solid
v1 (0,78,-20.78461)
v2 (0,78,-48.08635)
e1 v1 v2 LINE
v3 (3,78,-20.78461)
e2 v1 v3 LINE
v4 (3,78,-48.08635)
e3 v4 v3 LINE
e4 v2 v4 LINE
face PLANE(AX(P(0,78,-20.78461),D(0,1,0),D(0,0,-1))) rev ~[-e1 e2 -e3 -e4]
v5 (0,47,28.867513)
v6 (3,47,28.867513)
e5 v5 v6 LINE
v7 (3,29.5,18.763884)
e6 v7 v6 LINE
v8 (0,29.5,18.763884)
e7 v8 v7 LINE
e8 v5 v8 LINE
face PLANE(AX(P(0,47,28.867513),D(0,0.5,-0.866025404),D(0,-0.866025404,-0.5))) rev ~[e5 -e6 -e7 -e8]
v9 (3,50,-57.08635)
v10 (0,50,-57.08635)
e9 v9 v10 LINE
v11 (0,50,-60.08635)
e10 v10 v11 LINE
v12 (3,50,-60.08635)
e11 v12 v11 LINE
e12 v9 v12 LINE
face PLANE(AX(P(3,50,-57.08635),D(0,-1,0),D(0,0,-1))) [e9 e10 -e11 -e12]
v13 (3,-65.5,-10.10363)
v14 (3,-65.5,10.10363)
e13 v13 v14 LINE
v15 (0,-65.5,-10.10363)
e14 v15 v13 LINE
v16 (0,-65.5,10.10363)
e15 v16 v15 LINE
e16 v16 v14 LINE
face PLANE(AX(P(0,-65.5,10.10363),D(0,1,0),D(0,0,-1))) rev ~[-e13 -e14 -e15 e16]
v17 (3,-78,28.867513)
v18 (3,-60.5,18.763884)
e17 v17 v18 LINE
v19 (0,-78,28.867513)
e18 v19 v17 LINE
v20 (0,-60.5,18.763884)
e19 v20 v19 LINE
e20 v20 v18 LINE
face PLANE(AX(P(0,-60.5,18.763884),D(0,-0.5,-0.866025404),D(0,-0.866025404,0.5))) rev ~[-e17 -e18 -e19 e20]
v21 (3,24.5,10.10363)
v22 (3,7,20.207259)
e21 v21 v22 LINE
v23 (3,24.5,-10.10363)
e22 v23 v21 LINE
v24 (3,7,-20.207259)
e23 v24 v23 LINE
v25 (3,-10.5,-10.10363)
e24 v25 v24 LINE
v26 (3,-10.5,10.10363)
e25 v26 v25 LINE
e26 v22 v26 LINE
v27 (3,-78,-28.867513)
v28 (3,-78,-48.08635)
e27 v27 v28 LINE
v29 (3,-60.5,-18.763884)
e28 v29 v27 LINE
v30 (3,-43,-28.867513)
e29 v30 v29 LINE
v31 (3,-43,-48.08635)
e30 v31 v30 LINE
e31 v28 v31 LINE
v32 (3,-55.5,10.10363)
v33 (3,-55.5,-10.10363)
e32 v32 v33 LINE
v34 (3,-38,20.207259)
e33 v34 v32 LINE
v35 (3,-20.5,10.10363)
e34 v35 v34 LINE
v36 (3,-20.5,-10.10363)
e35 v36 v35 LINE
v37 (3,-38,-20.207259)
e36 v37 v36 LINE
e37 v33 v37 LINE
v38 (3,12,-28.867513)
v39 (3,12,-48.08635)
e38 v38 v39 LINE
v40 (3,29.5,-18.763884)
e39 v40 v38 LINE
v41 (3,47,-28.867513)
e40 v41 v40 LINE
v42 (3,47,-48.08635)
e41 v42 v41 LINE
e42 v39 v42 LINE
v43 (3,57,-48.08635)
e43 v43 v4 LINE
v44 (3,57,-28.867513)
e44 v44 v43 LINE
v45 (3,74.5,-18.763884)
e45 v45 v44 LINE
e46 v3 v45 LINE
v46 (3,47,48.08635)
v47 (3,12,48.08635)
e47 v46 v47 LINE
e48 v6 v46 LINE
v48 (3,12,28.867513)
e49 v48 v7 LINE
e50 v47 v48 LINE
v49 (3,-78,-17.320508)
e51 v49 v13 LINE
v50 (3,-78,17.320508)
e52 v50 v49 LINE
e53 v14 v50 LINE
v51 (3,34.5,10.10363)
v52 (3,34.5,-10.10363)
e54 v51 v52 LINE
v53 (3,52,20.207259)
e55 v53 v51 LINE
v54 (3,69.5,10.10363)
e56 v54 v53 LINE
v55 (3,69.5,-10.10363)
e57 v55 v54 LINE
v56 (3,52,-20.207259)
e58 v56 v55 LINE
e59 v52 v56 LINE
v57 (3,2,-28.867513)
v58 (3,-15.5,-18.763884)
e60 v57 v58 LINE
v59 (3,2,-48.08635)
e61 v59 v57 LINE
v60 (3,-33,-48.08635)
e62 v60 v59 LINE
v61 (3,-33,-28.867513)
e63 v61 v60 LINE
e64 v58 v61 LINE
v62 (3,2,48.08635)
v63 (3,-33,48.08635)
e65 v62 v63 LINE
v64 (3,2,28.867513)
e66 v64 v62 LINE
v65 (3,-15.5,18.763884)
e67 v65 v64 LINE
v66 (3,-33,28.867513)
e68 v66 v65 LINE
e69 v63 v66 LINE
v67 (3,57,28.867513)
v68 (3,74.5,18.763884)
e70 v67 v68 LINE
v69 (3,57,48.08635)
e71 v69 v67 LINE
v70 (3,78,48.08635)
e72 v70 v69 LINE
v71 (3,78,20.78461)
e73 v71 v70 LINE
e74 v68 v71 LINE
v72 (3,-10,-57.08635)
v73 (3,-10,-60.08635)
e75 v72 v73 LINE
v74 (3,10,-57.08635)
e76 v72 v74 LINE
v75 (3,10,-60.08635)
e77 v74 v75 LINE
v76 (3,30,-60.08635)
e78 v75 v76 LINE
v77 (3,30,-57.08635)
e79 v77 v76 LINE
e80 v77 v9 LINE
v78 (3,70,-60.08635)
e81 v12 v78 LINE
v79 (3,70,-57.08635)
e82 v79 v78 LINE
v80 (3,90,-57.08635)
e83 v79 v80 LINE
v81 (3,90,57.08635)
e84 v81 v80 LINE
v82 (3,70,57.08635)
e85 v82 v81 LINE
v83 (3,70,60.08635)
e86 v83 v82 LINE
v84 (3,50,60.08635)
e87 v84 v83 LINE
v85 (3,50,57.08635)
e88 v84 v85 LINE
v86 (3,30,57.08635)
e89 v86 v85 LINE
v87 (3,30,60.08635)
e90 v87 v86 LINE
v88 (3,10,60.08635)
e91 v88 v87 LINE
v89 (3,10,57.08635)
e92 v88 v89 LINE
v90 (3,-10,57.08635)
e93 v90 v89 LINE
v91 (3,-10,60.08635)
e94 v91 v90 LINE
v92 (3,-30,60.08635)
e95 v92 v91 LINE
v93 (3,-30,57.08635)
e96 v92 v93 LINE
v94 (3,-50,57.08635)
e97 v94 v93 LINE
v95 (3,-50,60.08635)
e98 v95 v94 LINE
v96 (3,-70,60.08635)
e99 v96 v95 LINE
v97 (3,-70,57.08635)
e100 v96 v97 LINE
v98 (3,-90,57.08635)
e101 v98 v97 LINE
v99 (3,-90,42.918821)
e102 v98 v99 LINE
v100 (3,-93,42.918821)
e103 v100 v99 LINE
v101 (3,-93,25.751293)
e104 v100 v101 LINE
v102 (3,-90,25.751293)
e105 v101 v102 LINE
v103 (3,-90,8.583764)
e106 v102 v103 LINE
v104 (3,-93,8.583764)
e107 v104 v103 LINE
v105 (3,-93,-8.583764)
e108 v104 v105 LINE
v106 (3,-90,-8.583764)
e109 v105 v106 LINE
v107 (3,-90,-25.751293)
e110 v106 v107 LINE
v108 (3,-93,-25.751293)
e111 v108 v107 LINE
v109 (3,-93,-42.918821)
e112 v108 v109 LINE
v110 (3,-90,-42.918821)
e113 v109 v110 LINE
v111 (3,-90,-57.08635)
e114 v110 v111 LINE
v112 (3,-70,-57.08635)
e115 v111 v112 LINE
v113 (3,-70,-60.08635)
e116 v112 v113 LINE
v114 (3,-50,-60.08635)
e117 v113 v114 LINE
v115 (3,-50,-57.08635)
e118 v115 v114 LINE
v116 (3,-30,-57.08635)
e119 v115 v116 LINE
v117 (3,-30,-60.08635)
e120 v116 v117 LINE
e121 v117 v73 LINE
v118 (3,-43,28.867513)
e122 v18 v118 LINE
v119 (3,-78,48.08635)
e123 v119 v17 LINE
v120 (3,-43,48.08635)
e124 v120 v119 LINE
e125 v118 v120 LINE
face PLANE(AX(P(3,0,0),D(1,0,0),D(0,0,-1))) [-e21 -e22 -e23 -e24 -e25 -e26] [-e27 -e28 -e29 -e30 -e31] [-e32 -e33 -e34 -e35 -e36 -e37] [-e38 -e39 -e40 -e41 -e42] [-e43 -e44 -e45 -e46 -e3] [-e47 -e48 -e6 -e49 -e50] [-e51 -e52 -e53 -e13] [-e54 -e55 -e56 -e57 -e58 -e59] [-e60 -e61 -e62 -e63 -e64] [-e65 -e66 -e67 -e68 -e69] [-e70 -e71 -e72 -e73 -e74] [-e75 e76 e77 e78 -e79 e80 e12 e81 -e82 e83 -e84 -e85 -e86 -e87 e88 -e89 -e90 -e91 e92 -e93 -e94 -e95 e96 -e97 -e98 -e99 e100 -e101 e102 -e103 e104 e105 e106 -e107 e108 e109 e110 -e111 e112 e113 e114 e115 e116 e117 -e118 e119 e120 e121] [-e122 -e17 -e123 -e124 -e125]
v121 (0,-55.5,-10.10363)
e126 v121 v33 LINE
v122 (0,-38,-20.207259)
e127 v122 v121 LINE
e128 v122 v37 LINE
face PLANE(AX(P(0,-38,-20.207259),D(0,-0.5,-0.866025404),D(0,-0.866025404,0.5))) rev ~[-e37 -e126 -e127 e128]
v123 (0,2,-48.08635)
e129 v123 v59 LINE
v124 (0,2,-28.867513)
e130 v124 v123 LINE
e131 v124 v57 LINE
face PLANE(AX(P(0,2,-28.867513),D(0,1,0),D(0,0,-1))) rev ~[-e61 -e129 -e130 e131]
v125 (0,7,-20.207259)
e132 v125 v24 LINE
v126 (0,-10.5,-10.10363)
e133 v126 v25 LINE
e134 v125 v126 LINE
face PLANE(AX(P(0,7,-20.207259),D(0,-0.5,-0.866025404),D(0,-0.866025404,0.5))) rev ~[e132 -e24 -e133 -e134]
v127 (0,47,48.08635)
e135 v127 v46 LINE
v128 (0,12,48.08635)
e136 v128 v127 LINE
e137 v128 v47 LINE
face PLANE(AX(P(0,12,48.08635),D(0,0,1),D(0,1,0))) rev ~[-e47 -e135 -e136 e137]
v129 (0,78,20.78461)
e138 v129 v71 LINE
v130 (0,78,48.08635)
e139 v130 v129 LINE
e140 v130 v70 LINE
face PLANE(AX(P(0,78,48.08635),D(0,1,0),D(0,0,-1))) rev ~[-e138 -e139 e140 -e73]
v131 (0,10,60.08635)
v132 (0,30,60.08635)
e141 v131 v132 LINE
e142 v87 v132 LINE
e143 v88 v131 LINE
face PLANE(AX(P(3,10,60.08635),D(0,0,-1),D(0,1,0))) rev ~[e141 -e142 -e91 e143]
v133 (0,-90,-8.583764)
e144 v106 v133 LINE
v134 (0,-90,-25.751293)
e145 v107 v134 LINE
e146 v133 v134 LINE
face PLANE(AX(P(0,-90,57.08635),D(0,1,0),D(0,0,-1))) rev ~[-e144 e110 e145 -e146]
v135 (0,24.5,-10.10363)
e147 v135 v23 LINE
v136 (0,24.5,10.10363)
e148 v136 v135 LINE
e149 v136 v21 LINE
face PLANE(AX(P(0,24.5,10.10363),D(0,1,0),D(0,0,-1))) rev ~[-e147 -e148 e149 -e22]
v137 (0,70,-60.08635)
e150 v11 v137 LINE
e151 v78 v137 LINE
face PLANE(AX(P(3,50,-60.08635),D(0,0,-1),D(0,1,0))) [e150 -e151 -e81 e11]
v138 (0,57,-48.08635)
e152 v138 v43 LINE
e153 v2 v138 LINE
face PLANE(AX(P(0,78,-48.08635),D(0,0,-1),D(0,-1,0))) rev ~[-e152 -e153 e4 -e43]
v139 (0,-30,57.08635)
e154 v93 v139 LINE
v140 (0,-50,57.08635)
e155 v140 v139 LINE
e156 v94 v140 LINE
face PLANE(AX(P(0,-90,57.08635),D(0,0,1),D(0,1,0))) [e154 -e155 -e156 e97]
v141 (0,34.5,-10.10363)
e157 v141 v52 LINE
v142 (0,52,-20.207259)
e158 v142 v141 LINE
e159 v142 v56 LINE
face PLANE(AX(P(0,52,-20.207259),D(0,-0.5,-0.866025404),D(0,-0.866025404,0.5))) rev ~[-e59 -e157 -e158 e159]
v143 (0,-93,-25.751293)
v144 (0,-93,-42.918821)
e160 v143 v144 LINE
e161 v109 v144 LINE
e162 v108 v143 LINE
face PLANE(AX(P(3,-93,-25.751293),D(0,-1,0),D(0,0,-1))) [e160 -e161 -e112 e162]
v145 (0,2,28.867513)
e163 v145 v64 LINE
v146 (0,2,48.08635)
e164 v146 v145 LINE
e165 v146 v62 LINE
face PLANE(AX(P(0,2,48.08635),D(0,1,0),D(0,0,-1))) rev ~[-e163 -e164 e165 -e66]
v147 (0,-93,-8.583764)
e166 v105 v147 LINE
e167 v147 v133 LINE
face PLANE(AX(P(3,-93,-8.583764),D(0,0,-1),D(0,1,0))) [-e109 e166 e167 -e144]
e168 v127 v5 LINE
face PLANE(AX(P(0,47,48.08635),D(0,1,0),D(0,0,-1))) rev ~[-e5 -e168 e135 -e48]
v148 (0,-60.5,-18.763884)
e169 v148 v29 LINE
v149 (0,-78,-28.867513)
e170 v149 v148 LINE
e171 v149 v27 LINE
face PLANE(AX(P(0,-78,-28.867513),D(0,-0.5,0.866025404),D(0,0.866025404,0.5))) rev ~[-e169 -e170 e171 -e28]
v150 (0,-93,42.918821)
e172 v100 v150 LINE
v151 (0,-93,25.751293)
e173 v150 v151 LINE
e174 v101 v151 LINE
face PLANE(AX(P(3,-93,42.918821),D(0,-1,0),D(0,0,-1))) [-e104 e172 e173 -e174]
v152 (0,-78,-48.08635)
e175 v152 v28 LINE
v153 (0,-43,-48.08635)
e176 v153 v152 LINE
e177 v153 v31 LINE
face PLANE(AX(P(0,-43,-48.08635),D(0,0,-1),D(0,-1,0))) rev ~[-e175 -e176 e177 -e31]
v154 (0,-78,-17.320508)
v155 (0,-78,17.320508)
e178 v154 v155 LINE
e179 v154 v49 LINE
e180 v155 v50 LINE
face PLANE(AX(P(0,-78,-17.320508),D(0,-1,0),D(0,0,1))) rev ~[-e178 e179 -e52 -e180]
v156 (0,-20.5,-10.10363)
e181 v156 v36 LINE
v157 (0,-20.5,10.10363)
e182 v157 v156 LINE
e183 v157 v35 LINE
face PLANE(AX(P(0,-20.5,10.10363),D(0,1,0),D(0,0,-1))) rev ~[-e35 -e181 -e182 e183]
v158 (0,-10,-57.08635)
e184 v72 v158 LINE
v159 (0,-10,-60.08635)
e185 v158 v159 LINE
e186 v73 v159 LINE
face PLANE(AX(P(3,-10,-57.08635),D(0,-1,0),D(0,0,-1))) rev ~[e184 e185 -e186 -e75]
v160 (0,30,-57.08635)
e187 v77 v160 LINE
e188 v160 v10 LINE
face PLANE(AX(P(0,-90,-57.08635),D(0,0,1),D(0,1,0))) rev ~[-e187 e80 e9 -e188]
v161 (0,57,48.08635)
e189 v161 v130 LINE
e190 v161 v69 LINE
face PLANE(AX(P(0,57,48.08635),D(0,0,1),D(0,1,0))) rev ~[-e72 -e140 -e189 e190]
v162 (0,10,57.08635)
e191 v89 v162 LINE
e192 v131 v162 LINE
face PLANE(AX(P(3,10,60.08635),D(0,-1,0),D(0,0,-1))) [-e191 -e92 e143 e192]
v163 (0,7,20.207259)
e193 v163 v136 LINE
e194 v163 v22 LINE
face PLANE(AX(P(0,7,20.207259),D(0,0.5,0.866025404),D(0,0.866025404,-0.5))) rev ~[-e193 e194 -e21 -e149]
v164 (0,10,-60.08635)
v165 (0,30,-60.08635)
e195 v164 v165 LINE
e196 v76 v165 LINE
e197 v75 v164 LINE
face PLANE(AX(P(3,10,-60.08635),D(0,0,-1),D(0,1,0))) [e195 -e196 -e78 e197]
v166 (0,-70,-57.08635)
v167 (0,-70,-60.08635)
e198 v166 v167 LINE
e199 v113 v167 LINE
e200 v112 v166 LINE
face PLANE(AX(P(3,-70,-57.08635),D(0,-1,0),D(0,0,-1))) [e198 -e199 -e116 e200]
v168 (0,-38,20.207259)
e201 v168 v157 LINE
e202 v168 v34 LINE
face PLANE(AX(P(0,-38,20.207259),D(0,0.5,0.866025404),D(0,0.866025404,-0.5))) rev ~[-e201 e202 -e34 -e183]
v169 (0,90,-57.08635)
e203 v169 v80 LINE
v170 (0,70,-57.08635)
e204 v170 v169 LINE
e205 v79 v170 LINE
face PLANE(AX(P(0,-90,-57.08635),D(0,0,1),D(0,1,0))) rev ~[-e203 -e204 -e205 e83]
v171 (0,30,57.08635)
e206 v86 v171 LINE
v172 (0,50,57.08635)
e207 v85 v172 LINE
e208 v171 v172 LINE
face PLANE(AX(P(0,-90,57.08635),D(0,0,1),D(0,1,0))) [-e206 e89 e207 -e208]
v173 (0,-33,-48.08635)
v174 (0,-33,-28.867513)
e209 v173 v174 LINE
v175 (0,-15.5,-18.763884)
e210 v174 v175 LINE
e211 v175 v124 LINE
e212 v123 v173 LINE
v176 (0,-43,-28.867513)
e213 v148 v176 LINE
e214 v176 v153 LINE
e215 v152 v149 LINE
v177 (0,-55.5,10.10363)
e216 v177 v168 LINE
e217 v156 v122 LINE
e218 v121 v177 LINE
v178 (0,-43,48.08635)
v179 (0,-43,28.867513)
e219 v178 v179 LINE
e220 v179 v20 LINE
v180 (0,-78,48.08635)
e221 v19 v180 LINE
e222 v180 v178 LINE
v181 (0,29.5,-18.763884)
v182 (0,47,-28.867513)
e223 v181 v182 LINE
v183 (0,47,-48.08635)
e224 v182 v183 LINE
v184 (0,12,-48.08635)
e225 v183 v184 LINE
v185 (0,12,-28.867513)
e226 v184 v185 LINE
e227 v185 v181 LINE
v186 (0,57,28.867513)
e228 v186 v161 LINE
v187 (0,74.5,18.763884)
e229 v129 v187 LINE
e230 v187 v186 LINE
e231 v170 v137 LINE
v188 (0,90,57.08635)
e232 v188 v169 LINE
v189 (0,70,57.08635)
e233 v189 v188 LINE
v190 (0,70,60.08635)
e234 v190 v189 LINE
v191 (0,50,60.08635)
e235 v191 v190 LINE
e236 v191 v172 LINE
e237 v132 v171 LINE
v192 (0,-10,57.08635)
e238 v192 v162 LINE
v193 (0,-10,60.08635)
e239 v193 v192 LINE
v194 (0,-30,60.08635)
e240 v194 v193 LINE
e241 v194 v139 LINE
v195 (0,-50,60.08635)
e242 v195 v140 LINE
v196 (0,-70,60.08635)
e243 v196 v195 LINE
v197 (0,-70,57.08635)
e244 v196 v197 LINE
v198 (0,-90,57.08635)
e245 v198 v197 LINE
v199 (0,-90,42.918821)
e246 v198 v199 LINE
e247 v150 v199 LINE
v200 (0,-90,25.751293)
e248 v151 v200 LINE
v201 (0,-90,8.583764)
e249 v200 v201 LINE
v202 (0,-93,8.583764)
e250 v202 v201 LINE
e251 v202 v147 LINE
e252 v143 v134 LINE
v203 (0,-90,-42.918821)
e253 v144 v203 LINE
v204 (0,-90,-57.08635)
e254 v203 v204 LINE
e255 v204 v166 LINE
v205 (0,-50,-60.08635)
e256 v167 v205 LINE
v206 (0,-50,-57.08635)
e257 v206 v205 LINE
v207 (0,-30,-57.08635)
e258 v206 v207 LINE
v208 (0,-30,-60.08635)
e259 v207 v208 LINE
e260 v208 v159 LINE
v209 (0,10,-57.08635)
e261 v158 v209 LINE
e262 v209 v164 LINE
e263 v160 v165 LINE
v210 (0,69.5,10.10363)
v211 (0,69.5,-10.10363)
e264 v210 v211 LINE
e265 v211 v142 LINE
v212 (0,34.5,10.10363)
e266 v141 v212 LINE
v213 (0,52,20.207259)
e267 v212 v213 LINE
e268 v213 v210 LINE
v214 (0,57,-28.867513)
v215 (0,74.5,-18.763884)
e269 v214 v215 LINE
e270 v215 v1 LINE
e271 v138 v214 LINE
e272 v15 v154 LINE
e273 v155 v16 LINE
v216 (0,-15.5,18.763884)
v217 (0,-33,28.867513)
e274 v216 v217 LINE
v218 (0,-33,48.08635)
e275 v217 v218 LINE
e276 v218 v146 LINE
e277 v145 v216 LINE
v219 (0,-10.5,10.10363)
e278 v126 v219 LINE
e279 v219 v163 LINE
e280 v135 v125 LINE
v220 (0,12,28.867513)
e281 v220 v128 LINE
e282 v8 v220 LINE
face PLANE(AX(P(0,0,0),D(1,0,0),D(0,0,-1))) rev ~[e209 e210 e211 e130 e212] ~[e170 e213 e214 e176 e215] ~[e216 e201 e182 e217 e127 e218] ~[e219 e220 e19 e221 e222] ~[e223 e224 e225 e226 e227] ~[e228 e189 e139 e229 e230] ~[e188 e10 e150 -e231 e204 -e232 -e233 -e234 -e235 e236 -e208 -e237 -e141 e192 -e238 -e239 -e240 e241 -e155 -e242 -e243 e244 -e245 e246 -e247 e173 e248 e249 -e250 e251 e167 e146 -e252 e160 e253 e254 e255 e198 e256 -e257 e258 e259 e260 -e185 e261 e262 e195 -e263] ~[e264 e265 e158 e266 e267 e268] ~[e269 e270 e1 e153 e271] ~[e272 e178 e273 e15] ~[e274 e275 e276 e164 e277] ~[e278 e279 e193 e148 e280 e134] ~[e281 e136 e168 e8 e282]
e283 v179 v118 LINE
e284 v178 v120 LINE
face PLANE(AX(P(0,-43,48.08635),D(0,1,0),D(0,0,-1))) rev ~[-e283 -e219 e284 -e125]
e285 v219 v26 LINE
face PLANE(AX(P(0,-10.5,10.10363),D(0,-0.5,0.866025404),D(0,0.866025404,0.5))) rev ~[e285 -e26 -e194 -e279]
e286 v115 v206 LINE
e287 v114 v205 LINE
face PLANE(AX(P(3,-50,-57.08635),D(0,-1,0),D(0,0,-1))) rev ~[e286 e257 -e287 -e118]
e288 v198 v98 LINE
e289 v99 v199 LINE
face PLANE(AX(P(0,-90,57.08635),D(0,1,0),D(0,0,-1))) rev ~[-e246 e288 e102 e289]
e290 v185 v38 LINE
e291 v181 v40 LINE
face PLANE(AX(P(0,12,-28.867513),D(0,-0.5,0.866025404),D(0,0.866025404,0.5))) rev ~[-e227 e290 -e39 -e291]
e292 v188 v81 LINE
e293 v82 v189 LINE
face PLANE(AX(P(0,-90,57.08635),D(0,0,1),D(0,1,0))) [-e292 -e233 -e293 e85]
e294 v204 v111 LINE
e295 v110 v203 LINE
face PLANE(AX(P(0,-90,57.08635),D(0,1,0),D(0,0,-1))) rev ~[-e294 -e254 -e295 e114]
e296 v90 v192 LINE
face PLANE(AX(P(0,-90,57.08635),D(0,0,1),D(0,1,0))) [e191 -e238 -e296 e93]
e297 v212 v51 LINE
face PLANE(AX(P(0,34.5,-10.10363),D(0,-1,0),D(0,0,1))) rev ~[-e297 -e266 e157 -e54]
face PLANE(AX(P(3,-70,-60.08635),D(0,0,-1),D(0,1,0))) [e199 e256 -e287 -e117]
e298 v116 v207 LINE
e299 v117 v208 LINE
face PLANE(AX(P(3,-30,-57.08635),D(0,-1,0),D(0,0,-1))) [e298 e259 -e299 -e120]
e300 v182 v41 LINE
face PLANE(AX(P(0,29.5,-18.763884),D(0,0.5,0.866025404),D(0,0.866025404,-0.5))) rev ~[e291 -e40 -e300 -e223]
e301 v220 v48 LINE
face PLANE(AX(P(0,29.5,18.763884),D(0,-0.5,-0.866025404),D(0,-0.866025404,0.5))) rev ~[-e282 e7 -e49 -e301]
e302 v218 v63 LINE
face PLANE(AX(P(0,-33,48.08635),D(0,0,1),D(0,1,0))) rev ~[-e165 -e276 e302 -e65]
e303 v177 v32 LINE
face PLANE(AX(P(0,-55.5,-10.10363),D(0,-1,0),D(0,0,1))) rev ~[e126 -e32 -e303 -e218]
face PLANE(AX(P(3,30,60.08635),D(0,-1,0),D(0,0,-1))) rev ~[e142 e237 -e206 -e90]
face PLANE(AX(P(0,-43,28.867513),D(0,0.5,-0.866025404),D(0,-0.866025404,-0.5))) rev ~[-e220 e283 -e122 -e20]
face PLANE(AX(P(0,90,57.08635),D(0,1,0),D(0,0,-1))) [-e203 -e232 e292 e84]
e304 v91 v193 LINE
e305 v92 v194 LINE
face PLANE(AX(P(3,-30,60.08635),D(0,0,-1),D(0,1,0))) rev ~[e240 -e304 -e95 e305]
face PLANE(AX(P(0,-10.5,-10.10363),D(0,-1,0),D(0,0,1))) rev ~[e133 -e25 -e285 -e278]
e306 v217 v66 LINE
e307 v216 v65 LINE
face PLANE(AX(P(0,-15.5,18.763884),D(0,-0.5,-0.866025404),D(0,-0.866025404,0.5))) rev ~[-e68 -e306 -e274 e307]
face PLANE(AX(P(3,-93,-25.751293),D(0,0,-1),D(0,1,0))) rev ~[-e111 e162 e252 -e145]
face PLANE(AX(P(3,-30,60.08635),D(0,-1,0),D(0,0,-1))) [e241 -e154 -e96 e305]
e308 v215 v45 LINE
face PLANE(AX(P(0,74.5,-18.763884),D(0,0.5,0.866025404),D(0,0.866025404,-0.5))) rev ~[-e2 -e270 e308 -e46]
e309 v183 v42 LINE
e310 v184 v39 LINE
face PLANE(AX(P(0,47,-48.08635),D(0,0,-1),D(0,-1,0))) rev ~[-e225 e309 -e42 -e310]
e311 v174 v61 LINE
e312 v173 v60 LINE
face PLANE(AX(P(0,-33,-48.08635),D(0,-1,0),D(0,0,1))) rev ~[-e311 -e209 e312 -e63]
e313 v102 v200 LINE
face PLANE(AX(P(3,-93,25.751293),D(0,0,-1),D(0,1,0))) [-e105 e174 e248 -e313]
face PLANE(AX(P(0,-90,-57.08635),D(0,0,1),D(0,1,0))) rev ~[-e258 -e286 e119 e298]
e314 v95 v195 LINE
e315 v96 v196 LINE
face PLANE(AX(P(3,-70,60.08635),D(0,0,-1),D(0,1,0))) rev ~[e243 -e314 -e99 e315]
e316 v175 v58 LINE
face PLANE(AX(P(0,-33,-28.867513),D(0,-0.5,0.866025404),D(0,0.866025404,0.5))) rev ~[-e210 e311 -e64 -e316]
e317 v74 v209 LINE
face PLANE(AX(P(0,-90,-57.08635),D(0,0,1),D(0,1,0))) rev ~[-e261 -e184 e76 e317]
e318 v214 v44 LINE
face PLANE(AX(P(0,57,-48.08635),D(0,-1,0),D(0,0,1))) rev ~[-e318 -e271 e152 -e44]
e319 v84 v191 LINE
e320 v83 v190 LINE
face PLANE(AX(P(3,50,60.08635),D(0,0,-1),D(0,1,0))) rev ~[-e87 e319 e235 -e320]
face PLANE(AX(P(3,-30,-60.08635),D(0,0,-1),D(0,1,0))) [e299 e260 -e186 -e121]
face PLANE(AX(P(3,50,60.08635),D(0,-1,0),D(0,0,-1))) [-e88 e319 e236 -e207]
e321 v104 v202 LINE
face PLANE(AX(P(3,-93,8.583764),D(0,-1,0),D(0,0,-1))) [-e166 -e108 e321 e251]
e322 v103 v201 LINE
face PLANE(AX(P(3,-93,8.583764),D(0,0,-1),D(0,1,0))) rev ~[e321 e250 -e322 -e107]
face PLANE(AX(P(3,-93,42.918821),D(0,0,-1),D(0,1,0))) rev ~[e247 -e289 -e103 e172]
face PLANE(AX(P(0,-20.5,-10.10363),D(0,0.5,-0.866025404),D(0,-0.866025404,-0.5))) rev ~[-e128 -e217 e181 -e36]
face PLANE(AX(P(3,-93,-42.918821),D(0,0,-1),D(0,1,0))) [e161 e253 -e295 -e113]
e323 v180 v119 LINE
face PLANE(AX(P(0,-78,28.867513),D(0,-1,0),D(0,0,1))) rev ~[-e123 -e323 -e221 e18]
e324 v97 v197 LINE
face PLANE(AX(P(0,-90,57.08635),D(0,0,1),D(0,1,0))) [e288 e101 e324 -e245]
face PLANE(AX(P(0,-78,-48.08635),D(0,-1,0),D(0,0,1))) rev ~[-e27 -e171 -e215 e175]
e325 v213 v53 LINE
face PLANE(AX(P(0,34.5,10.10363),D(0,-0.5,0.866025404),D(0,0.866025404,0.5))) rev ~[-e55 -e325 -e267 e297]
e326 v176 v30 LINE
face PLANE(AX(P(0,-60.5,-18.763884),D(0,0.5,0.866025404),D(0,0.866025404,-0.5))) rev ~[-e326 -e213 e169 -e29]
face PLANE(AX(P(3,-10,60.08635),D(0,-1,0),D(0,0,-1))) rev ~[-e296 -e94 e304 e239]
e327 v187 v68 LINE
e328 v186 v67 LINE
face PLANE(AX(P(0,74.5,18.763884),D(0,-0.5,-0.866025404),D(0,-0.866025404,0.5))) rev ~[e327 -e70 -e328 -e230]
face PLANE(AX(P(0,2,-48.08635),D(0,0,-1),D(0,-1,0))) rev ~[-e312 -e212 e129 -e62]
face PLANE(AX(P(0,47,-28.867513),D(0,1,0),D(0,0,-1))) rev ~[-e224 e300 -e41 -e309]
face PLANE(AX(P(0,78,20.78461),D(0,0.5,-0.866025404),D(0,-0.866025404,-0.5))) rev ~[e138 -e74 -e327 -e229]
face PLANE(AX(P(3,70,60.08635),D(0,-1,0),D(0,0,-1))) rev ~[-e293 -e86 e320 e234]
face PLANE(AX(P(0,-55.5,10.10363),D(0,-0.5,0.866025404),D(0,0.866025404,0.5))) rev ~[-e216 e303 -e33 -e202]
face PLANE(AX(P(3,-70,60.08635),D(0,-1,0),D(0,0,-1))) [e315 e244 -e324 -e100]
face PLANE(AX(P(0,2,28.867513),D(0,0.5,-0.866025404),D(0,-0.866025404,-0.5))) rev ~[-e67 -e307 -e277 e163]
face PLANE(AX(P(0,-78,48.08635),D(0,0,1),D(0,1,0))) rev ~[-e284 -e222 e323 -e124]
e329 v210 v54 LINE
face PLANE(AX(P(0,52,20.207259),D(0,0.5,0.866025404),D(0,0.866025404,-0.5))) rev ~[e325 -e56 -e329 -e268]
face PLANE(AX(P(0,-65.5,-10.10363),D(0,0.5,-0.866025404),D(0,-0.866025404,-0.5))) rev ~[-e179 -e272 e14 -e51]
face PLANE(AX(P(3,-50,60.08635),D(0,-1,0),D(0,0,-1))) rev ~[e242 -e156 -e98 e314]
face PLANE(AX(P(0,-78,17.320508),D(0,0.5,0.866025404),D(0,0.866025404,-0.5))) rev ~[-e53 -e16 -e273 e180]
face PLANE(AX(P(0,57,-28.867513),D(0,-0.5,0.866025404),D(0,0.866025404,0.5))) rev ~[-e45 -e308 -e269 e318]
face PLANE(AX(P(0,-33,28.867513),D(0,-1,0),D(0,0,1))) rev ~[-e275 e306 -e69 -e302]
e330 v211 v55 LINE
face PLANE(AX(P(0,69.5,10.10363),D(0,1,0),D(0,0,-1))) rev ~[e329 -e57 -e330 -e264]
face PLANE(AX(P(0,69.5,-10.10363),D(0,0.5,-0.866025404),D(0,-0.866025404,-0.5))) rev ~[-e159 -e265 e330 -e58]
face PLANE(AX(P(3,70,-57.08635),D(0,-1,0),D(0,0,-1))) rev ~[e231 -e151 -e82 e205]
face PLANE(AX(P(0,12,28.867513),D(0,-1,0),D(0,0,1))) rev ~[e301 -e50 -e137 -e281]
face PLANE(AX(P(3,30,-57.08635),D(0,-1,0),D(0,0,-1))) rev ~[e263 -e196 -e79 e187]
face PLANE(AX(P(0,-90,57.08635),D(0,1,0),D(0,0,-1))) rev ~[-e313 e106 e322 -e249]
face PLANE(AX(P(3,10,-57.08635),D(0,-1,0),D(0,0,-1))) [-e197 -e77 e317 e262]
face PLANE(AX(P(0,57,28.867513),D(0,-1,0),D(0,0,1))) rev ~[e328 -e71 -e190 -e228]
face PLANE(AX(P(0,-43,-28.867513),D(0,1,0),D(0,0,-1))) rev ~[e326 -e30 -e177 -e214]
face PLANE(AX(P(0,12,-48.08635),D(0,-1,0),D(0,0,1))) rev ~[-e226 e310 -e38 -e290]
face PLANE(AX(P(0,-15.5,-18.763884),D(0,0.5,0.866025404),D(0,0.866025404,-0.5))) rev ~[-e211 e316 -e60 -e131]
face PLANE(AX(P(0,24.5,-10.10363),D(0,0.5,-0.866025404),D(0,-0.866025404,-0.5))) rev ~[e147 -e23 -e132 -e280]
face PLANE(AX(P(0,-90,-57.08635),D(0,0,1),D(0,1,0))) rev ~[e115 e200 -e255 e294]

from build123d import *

# Parameters (mm, degrees)
SKETCH1_W           = 114.1727
SKETCH1_H           = 180
BOSS_EXTRUDE1_DEPTH = 3
SKETCH2_W           = 17.167528572
SKETCH2_H           = 3
SKETCH2_W_2         = 3
SKETCH2_H_2         = 20
BOSS_EXTRUDE2_DEPTH = 3
CUT_EXTRUDE1_DEPTH  = 10


with BuildPart() as part:
    # Sketch1 → Boss-Extrude1 (new body)
    with BuildSketch(Plane(origin=(0, 0, 0), x_dir=(0, 0, -1), z_dir=(1, 0, 0))):
        Rectangle(SKETCH1_W, SKETCH1_H)
    extrude(amount=BOSS_EXTRUDE1_DEPTH)

    # Sketch2 → Boss-Extrude2 (add)
    with BuildSketch(Plane(origin=(3, 0, 0), x_dir=(0, 0, -1), z_dir=(1, 0, 0))):
        with Locations((-34.335057143, -91.5)):
            Rectangle(SKETCH2_W, SKETCH2_H)
        with Locations((0, -91.5)):
            Rectangle(SKETCH2_W, SKETCH2_H)
        with Locations((34.335057143, -91.5)):
            Rectangle(SKETCH2_W, SKETCH2_H)
        with Locations((58.58635, -60)):
            Rectangle(SKETCH2_W_2, SKETCH2_H_2)
        with Locations((58.58635, -20)):
            Rectangle(SKETCH2_W_2, SKETCH2_H_2)
        with Locations((58.58635, 20)):
            Rectangle(SKETCH2_W_2, SKETCH2_H_2)
        with Locations((58.58635, 60)):
            Rectangle(SKETCH2_W_2, SKETCH2_H_2)
        with Locations((-58.58635, -60)):
            Rectangle(SKETCH2_W_2, SKETCH2_H_2)
        with Locations((-58.58635, -20)):
            Rectangle(SKETCH2_W_2, SKETCH2_H_2)
        with Locations((-58.58635, 20)):
            Rectangle(SKETCH2_W_2, SKETCH2_H_2)
        with Locations((-58.58635, 60)):
            Rectangle(SKETCH2_W_2, SKETCH2_H_2)
    extrude(amount=-BOSS_EXTRUDE2_DEPTH)

    # Sketch3 → Cut-Extrude1 (cut)
    with BuildSketch(Plane(origin=(0, 0, -3), x_dir=(0, 0, 1), z_dir=(-1, 0, 0))):
        Polygon((-25.867513459, -43), (-45.08635, -43), (-45.08635, -78), (-25.867513459, -78), (-15.763883749, -60.5), align=None)
        Polygon((-7.103629711, -65.5), (-14.320508076, -78), (20.320508076, -78), (13.103629711, -65.5), align=None)
        Polygon((21.763883749, -60.5), (31.867513459, -78), (51.08635, -78), (51.08635, -43), (31.867513459, -43), align=None)
        Polygon((23.207259422, -38), (13.103629711, -20.5), (-7.103629711, -20.5), (-17.207259422, -38), (-7.103629711, -55.5), (13.103629711, -55.5), align=None)
        Polygon((-45.08635, 2), (-45.08635, -33), (-25.867513459, -33), (-15.763883749, -15.5), (-25.867513459, 2), align=None)
        Polygon((23.207259422, 7), (13.103629711, 24.5), (-7.103629711, 24.5), (-17.207259422, 7), (-7.103629711, -10.5), (13.103629711, -10.5), align=None)
        Polygon((31.867513459, -33), (51.08635, -33), (51.08635, 2), (31.867513459, 2), (21.763883749, -15.5), align=None)
        Polygon((51.08635, 12), (51.08635, 47), (31.867513459, 47), (21.763883749, 29.5), (31.867513459, 12), align=None)
        Polygon((-45.08635, 47), (-45.08635, 12), (-25.867513459, 12), (-15.763883749, 29.5), (-25.867513459, 47), align=None)
        Polygon((23.207259422, 52), (13.103629711, 69.5), (-7.103629711, 69.5), (-17.207259422, 52), (-7.103629711, 34.5), (13.103629711, 34.5), align=None)
        Polygon((-45.08635, 78), (-45.08635, 57), (-25.867513459, 57), (-15.763883749, 74.5), (-17.784609691, 78), align=None)
        Polygon((51.08635, 78), (23.784609691, 78), (21.763883749, 74.5), (31.867513459, 57), (51.08635, 57), align=None)
    extrude(amount=-CUT_EXTRUDE1_DEPTH, mode=Mode.SUBTRACT)


solid = part.part
